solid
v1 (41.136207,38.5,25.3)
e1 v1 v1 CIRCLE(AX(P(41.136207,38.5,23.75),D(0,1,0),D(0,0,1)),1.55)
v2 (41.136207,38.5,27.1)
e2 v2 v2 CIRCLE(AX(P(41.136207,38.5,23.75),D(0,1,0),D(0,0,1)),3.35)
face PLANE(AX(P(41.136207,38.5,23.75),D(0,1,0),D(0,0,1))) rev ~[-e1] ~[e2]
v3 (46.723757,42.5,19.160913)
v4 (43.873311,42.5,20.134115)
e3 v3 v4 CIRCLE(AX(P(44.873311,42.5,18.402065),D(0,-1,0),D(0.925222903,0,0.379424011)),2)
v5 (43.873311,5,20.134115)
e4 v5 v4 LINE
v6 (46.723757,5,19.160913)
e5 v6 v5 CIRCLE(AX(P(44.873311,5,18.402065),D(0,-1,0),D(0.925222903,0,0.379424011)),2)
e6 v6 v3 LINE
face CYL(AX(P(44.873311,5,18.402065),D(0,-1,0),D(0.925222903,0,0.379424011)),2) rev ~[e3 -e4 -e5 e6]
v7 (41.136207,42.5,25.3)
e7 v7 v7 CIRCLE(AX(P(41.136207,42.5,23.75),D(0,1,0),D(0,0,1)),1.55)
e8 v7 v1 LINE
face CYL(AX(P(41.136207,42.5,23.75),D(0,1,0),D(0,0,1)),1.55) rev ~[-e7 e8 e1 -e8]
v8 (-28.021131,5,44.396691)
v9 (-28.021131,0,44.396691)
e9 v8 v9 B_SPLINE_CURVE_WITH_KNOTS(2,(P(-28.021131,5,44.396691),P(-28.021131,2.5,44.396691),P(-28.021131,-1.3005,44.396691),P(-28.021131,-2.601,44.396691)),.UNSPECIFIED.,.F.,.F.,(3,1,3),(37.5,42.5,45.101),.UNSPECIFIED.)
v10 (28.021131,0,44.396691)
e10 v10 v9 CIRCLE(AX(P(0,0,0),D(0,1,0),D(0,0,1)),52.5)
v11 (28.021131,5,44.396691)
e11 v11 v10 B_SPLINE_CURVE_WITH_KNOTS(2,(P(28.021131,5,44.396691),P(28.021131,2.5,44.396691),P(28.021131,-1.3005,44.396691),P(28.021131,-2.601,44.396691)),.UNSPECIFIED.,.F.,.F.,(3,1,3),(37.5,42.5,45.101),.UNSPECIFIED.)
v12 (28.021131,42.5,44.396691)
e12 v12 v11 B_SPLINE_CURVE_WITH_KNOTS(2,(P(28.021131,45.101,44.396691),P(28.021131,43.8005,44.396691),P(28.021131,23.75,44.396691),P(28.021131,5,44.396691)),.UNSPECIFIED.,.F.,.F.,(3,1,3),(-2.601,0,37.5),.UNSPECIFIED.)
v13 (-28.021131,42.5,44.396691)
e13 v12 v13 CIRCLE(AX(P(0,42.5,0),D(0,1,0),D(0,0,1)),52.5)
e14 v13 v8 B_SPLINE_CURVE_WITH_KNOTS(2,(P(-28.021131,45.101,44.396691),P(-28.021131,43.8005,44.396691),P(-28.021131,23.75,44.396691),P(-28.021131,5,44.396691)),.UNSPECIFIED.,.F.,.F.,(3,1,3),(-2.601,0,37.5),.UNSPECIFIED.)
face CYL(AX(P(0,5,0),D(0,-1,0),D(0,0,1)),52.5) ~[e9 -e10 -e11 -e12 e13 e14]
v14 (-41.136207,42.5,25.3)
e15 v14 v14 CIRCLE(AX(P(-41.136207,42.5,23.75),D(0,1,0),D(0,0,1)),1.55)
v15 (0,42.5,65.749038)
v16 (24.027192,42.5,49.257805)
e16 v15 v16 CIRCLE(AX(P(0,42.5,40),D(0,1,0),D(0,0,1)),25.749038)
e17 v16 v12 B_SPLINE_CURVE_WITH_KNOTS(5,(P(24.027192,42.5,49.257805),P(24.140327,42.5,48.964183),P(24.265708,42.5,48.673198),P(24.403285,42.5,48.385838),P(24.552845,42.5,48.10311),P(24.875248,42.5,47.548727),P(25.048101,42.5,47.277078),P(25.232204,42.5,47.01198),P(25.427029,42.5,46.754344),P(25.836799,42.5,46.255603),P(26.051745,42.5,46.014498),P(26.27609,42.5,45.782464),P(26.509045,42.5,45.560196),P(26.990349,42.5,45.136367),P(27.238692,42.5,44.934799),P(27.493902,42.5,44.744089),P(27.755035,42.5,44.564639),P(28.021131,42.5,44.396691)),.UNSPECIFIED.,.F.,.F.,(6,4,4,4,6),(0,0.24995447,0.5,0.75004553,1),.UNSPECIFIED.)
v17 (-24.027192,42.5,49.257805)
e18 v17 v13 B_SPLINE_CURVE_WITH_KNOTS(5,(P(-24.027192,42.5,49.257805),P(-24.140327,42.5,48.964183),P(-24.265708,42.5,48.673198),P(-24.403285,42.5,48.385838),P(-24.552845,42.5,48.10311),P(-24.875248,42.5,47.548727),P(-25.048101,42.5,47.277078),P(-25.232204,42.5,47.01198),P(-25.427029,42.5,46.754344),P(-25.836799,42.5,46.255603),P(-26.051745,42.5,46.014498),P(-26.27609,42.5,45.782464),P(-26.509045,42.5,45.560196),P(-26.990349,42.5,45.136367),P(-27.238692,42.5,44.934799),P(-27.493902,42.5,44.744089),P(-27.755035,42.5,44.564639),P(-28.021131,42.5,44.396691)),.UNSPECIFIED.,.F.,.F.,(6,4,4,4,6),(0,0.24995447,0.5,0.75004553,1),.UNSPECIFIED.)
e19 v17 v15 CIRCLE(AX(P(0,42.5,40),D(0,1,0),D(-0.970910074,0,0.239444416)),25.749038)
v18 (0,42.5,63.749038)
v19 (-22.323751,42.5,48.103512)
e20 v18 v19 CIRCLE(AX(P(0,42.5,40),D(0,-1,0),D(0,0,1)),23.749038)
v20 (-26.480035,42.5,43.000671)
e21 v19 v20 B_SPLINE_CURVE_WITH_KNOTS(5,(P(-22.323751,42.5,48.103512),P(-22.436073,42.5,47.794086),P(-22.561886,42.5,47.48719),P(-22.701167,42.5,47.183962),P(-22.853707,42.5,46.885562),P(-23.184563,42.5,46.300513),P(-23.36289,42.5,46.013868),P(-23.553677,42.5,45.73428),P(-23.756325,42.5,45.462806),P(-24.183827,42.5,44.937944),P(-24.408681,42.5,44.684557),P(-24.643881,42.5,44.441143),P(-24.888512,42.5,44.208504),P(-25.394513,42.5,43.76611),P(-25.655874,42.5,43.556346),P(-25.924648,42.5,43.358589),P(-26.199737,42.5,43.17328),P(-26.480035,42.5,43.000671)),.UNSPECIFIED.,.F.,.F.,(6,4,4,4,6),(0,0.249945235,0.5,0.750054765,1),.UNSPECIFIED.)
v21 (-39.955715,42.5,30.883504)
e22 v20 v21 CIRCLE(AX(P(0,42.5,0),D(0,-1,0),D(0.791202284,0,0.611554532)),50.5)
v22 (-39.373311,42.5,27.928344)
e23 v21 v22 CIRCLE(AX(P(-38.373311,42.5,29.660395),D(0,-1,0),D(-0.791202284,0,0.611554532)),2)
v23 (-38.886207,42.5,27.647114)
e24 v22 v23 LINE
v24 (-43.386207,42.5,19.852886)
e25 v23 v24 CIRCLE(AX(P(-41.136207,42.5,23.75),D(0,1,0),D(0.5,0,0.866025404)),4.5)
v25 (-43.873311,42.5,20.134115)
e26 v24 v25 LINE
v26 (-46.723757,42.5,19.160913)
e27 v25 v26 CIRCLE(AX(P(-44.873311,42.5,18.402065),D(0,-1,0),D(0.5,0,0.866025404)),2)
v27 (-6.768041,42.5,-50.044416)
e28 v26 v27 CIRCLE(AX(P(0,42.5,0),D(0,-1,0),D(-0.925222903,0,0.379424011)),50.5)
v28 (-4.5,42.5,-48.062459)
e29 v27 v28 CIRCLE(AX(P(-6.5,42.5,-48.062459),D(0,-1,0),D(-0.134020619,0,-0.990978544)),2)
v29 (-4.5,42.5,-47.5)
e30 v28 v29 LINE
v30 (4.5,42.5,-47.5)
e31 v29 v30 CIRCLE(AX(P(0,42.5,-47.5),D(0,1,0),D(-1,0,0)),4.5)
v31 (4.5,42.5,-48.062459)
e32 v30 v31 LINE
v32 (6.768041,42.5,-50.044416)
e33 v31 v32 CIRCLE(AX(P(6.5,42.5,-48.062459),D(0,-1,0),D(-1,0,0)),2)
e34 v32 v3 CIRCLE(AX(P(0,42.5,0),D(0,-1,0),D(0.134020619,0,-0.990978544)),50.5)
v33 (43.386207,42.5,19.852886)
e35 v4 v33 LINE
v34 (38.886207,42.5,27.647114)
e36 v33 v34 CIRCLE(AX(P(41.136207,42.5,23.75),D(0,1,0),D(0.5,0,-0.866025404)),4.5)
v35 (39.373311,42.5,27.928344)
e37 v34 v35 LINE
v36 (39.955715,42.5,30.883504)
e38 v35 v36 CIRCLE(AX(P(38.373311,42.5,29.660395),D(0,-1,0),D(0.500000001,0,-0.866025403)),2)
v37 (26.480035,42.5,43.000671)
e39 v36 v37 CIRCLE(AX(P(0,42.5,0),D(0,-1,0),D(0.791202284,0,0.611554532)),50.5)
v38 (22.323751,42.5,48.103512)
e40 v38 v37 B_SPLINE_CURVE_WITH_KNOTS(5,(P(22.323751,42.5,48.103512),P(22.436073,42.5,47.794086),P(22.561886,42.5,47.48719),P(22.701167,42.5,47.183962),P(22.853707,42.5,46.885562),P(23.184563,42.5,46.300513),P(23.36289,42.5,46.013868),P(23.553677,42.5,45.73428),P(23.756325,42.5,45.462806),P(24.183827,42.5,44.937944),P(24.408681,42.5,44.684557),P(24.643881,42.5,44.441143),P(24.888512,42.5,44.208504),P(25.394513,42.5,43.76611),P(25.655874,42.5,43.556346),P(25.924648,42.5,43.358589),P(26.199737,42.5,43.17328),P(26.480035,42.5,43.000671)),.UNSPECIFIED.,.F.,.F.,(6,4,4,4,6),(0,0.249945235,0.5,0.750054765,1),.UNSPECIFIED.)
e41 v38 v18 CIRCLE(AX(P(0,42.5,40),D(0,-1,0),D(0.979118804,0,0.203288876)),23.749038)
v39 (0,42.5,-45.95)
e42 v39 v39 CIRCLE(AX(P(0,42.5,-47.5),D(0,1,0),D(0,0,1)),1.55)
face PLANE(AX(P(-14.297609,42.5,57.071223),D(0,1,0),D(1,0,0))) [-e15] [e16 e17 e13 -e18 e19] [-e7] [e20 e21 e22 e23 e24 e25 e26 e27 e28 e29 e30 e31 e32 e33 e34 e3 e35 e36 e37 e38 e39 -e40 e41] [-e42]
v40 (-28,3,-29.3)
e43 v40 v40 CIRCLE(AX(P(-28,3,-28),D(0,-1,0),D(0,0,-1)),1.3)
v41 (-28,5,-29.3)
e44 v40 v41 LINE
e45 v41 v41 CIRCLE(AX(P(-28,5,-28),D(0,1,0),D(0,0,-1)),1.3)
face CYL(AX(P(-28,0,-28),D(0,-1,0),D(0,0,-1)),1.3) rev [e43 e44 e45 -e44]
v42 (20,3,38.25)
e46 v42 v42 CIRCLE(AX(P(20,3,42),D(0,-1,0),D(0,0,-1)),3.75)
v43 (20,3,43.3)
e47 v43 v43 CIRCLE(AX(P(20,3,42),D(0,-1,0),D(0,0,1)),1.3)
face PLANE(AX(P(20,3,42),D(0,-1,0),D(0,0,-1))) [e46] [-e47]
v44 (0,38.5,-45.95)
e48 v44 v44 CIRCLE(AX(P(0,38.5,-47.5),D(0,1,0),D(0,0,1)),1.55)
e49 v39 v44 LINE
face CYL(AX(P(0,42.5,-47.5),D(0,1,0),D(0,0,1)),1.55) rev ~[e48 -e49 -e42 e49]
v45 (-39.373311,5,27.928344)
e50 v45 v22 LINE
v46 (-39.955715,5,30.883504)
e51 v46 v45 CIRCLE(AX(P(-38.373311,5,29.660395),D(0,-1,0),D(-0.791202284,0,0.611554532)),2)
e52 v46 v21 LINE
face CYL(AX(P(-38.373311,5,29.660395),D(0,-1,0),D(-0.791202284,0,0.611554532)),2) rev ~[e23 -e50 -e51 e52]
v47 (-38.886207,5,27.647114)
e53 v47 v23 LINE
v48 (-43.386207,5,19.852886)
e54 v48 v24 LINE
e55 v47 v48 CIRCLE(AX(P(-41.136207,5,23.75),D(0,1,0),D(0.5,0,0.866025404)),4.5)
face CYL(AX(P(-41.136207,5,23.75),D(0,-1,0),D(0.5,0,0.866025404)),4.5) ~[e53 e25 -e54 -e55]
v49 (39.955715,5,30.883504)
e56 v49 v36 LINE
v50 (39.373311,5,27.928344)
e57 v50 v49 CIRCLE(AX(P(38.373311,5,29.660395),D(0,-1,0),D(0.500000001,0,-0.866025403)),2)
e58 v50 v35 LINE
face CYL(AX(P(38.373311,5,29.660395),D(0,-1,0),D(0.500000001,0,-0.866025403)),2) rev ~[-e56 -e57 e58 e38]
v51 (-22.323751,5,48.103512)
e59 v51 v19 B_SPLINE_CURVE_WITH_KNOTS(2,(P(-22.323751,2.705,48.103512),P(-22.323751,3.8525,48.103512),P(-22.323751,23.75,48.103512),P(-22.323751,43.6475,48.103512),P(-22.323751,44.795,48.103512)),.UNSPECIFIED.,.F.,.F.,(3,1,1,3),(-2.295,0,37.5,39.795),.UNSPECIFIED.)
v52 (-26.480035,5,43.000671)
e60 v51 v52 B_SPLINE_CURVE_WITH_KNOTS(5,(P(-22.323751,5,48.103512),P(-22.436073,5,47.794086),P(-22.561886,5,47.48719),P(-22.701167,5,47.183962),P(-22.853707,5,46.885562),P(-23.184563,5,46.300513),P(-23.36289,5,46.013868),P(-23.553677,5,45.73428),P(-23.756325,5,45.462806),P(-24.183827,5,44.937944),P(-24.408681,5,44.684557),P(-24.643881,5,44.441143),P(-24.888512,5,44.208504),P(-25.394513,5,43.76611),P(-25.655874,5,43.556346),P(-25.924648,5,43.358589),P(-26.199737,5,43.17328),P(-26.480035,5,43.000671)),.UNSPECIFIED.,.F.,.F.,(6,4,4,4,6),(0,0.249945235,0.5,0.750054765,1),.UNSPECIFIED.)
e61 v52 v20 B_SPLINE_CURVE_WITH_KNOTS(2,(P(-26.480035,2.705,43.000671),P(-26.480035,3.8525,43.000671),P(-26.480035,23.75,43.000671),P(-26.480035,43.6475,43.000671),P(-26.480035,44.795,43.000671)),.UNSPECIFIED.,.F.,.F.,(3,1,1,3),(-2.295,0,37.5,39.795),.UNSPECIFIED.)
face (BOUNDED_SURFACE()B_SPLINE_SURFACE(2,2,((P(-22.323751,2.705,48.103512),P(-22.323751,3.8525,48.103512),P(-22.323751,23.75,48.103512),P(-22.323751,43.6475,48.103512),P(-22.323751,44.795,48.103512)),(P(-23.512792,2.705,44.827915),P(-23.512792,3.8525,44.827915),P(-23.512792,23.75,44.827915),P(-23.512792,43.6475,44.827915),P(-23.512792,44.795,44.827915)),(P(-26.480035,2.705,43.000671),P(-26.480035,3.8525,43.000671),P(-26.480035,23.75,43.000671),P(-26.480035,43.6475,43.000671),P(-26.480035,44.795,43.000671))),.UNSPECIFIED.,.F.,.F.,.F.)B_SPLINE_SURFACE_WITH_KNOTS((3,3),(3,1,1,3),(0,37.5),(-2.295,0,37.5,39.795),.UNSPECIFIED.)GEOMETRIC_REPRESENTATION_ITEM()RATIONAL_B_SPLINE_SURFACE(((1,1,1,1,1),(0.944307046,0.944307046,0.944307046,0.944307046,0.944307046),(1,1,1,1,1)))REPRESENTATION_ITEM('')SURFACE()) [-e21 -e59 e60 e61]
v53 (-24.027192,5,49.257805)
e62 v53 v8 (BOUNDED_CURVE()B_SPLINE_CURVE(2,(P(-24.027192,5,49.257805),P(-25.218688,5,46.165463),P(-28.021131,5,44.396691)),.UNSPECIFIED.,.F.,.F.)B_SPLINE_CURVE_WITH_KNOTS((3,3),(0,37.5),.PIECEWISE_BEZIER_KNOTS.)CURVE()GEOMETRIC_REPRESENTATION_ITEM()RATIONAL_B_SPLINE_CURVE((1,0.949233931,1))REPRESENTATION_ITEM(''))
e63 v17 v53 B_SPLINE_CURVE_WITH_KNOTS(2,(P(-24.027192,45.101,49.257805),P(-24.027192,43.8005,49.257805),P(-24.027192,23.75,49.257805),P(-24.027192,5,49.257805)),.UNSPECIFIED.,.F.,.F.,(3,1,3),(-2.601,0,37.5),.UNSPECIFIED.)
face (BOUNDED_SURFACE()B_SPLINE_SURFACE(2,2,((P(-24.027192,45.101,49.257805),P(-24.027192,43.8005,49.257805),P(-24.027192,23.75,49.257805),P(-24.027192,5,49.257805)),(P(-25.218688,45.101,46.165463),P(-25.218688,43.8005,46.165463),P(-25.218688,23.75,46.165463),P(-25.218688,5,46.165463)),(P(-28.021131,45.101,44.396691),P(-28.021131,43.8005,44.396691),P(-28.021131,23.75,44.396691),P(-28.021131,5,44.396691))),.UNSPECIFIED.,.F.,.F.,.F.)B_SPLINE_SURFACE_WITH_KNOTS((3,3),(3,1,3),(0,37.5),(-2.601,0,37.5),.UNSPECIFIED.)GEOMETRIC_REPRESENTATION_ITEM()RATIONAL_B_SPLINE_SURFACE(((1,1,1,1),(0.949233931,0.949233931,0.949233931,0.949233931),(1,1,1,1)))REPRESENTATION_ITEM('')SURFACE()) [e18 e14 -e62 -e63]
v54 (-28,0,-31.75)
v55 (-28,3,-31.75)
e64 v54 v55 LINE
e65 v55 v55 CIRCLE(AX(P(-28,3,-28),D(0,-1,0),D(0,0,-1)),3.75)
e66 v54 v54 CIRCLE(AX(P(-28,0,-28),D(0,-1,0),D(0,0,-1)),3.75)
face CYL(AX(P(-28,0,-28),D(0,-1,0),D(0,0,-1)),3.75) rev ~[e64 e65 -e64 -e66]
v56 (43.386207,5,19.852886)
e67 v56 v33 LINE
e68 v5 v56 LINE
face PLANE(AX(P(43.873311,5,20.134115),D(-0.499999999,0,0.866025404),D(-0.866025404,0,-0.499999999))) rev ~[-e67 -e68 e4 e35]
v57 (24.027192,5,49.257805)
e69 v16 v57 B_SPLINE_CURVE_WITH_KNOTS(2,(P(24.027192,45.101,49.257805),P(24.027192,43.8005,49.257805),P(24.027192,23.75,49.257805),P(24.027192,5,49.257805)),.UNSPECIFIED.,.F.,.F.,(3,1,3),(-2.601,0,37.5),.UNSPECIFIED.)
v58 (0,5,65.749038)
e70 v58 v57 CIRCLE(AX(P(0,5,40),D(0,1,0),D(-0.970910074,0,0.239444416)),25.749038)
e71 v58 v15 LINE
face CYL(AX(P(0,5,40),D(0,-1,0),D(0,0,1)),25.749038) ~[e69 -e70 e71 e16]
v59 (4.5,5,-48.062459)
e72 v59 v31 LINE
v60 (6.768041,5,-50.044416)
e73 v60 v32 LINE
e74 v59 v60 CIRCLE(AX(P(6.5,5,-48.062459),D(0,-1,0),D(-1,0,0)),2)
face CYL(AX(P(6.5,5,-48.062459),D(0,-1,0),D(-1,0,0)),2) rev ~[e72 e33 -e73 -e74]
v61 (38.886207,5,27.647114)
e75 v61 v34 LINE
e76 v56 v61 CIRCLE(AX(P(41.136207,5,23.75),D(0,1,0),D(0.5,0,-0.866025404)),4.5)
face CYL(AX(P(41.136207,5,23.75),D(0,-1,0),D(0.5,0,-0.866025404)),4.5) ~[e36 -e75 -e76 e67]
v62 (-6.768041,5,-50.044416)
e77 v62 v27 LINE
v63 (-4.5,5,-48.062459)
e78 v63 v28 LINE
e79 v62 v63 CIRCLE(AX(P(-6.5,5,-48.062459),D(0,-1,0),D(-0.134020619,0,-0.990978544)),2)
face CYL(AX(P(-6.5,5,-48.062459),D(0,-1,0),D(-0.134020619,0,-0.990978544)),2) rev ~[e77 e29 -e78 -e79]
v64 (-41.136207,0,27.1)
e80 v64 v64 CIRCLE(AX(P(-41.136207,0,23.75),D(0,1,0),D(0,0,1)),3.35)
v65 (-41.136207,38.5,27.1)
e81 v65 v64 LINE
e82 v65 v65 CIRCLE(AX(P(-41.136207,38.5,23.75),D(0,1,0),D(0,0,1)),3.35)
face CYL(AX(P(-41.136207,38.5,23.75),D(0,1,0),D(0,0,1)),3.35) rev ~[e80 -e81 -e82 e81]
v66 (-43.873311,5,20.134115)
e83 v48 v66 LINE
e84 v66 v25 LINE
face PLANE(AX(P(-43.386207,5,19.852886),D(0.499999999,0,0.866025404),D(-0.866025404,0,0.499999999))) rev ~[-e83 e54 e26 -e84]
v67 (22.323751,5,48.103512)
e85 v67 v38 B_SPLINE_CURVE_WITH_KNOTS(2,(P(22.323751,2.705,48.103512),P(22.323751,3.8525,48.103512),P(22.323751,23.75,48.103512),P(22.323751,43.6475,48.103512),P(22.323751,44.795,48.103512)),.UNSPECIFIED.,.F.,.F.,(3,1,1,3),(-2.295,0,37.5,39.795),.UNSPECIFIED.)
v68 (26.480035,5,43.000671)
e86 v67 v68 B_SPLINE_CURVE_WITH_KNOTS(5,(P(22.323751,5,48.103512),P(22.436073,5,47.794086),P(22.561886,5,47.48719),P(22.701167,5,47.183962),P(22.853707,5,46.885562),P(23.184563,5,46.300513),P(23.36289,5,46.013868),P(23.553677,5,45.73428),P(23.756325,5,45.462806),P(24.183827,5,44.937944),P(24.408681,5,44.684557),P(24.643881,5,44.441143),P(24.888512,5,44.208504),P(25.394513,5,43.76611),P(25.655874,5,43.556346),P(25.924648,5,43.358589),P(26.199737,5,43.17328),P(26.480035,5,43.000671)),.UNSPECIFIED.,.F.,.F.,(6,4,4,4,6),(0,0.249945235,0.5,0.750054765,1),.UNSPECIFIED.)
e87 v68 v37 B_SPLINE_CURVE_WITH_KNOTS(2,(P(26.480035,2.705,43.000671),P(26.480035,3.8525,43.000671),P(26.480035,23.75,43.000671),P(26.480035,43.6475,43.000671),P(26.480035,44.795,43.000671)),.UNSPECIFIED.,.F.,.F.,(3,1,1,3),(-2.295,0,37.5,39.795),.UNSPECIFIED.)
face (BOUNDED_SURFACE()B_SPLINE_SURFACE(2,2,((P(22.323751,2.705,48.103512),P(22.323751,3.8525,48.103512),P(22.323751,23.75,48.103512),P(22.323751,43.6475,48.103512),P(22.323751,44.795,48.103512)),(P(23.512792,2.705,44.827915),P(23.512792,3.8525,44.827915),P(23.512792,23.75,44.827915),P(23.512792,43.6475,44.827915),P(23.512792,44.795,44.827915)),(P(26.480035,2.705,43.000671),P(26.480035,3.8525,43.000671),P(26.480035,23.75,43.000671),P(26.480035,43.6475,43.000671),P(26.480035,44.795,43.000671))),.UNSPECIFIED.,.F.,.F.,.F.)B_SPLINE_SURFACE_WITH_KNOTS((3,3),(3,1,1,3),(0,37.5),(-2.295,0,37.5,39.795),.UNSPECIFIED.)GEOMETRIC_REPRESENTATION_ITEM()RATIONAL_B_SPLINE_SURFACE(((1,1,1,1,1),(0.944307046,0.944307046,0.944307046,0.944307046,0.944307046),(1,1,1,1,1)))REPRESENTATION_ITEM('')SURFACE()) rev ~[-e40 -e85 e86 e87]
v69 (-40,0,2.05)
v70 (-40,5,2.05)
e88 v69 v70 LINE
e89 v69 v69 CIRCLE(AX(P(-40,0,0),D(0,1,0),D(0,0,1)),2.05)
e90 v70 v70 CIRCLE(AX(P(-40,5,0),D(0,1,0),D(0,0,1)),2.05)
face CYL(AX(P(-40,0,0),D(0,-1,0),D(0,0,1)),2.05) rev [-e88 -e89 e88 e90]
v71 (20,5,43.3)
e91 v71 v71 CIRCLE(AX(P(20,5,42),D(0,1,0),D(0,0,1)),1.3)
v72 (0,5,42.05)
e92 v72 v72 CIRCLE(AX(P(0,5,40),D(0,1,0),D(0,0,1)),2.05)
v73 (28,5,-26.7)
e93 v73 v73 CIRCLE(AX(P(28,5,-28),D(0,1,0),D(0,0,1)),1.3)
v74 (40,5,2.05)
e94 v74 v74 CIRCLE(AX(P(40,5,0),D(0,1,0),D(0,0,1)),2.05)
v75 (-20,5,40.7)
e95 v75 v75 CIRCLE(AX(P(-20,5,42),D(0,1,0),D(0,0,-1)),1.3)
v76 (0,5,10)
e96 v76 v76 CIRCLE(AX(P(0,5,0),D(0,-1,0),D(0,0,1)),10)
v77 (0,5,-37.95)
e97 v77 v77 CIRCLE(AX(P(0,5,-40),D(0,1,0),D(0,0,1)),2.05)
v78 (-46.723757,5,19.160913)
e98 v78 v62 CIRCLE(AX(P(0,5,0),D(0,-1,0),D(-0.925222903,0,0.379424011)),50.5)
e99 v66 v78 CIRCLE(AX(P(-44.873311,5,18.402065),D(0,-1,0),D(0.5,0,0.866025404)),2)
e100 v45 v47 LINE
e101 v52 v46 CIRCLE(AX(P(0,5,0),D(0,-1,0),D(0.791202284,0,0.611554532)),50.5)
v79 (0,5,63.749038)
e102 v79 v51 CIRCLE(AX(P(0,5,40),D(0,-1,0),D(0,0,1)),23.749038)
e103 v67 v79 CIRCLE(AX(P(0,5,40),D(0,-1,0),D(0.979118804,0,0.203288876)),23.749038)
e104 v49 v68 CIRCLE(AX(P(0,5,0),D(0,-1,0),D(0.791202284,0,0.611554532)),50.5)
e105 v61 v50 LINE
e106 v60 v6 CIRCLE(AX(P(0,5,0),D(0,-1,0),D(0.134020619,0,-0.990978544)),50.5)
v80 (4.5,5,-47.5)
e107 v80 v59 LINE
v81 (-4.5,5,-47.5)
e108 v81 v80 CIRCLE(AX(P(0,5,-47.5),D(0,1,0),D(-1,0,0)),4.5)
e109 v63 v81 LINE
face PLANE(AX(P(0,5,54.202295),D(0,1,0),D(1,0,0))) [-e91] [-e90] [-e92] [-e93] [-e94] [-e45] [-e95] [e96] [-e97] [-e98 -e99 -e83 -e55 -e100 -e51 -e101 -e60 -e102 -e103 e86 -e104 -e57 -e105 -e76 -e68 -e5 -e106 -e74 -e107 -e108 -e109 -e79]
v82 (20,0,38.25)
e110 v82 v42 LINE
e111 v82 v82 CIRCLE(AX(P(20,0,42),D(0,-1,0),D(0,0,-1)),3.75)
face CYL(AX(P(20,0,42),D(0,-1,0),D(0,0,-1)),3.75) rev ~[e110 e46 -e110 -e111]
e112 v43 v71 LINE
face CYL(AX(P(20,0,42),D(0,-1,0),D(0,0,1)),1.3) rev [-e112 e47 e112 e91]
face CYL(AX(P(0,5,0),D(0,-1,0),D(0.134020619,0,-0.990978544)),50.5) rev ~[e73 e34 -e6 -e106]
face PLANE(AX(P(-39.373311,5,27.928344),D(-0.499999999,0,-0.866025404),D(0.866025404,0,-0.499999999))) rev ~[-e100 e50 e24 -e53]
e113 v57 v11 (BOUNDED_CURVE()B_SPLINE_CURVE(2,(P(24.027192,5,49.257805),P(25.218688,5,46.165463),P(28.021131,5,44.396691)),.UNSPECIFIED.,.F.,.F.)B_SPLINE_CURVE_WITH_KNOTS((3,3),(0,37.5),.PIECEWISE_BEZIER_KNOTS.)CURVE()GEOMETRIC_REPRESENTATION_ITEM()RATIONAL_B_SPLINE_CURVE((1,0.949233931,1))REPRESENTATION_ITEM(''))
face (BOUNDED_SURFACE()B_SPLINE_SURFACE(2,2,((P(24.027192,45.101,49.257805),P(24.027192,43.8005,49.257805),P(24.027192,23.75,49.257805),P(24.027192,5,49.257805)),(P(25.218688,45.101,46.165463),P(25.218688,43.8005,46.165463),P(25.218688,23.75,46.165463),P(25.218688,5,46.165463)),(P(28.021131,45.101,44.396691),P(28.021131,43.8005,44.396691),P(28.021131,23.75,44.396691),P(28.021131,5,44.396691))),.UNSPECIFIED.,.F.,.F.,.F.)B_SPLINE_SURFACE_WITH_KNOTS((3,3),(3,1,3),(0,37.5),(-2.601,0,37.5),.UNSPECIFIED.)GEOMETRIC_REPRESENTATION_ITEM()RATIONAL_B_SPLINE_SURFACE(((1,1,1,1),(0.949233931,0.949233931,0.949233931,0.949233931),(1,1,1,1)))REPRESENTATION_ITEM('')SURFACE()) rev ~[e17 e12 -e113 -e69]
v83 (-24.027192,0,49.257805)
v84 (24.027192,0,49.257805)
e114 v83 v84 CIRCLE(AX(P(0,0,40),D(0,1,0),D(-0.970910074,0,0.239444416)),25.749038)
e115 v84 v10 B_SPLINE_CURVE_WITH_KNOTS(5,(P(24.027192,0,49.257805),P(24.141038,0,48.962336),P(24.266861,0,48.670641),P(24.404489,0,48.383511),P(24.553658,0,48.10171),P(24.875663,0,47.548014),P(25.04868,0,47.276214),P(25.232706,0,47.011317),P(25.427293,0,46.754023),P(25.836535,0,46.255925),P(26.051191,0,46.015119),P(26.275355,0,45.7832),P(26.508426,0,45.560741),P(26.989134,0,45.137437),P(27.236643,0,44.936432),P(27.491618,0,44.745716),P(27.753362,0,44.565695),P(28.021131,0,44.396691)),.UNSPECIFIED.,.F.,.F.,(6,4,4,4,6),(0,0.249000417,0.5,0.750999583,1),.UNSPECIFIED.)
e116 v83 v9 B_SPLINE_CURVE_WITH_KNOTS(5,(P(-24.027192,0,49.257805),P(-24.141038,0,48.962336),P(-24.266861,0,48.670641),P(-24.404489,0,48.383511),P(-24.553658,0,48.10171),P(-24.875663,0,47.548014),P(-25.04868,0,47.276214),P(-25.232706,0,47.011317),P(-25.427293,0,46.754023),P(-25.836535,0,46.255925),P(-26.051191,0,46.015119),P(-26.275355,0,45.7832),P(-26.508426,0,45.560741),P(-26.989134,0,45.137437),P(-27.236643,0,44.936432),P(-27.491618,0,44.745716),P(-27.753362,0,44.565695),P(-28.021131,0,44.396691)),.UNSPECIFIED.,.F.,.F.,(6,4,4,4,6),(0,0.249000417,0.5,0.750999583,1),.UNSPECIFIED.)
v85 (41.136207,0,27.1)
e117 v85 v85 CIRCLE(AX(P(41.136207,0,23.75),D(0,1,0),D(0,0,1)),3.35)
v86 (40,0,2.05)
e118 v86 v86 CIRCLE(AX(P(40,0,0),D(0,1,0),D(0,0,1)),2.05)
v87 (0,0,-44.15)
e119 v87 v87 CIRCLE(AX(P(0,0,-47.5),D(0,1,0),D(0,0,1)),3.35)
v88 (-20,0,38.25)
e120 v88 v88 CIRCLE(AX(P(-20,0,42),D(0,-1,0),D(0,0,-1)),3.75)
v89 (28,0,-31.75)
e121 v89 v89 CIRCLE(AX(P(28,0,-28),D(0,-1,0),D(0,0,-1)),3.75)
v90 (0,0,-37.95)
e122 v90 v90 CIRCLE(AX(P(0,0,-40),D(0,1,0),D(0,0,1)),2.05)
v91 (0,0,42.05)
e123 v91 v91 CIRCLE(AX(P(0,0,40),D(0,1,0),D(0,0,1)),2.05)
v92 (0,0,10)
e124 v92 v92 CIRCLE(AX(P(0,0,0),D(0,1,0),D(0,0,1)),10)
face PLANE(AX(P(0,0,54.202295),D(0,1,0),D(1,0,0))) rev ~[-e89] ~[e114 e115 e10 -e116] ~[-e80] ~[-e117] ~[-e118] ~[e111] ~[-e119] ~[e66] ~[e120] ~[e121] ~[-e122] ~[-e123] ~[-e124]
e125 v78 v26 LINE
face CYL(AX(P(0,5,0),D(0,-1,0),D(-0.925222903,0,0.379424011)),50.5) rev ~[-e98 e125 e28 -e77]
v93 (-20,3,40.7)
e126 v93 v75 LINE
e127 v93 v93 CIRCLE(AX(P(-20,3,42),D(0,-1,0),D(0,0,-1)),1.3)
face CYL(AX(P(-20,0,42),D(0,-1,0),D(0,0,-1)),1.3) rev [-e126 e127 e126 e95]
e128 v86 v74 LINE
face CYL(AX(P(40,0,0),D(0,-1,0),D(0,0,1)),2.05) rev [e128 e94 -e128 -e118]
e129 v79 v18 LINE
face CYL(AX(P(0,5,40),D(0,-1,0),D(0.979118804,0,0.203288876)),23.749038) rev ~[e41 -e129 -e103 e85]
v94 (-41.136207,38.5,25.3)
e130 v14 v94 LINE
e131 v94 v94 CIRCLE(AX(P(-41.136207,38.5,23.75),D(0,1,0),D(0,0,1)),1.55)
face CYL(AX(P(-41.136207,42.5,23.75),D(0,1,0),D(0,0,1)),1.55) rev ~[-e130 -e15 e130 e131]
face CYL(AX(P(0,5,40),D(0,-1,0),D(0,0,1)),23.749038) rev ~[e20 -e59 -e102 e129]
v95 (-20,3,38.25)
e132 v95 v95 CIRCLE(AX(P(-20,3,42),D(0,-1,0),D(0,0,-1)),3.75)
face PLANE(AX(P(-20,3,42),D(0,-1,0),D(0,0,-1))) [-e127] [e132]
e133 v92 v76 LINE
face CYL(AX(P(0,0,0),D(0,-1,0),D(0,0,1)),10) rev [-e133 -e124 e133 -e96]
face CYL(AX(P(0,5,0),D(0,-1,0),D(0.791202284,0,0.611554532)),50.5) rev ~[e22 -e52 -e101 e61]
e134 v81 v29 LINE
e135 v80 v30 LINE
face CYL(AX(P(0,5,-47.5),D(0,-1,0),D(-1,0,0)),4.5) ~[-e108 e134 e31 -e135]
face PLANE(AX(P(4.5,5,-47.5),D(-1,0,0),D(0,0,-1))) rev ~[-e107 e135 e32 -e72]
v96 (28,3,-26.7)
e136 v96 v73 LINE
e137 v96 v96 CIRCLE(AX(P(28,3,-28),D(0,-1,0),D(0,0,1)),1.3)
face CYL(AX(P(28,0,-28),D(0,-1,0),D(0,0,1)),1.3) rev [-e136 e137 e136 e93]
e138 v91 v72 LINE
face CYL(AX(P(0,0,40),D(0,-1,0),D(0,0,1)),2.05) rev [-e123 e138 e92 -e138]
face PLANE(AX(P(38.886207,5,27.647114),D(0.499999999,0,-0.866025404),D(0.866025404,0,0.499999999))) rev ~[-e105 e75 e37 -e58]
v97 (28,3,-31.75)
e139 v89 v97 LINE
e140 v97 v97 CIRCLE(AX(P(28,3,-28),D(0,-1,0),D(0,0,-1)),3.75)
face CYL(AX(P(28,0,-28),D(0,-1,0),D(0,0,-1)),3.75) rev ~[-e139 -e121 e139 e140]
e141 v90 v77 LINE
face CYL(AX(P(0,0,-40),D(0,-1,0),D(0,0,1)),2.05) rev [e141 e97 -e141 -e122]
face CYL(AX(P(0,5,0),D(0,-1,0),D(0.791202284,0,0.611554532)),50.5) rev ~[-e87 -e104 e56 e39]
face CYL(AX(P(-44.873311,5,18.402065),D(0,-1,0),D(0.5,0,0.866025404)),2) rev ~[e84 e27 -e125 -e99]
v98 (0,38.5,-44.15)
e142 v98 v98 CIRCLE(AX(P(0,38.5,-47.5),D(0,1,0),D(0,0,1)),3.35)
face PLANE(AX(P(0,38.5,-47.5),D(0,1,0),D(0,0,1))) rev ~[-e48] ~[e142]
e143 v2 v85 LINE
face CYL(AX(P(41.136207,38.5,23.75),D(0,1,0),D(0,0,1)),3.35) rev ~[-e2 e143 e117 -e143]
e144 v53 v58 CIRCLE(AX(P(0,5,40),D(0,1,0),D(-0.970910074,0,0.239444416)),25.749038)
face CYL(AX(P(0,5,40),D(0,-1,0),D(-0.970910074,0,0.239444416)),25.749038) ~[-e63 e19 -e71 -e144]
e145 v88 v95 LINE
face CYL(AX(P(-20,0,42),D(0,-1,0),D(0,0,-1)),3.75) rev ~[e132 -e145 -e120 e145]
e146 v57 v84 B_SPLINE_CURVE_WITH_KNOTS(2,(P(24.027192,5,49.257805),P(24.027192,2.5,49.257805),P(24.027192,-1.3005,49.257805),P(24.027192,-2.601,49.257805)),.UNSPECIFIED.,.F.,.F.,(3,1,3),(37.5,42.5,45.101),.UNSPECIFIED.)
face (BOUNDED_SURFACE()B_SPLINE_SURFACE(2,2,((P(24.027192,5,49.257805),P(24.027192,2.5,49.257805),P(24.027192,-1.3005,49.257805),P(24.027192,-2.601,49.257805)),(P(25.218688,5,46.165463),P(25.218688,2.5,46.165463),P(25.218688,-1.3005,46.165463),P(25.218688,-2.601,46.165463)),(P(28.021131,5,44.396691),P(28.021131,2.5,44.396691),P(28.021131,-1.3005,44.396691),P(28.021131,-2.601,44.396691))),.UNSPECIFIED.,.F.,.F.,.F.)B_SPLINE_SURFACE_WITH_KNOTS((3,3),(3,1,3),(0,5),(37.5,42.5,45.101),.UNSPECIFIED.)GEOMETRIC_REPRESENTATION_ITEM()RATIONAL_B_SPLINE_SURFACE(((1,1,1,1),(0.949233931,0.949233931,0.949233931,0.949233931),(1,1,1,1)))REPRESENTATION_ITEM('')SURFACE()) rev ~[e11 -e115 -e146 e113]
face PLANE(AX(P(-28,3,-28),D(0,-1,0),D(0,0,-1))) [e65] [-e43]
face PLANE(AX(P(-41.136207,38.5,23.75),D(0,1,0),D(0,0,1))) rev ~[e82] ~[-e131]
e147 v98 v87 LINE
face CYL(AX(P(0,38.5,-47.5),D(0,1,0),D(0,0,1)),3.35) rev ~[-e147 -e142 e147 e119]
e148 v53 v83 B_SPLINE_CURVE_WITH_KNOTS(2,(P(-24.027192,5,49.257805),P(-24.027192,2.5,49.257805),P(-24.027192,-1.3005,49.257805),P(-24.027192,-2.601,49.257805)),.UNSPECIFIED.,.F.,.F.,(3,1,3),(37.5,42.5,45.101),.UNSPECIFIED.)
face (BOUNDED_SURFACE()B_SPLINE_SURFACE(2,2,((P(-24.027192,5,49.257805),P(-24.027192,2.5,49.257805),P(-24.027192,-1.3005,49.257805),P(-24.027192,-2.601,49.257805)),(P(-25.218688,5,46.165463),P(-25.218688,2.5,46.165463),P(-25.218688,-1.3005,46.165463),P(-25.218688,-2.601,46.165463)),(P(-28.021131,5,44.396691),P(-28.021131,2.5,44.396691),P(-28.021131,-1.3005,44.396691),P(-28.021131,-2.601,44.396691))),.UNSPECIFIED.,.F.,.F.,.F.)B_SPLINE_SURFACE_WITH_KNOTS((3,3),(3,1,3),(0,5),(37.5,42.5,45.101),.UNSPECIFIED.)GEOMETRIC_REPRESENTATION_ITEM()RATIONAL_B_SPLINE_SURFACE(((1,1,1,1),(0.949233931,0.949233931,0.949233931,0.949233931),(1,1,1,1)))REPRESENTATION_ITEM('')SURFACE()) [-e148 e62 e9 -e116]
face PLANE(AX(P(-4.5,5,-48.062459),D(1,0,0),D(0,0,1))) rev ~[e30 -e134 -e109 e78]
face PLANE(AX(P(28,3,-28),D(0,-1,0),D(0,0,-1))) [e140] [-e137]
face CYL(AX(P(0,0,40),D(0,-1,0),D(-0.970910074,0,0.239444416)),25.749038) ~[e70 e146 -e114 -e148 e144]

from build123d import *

# Parameters (mm, degrees)
ESQUISSE1_R             = 52.5
ESQUISSE1_R_2           = 2.05
ESQUISSE1_R_3           = 1.3
ESQUISSE1_R_4           = 10
BOSS_EXTRU_2_DEPTH      = 5
ESQUISSE2_R             = 52.5
BOSS_EXTRU_3_DEPTH      = 37.5
ENL_V_START             = -4
ESQUISSE3_R             = 3.35
ENL_V_MAT_EXTRU_1_DEPTH = 82.549693161
ESQUISSE5_R             = 1.55
ENL_V_MAT_EXTRU_3_DEPTH = 86.549693161
ESQUISSE6_R             = 3.75
ENL_V_MAT_EXTRU_4_DEPTH = 3
ESQUISSE7_W             = 25
ESQUISSE7_H             = 37.5
ENL_V_MAT_EXTRU_5_DEPTH = 86.549693161
BOSS_EXTRU_5_DEPTH      = 5
BOSS_EXTRU_9_DEPTH      = 37.5
CONG_1_R                = 10


with BuildPart() as part:
    # Esquisse1 → Boss.-Extru.2 (new body)
    with BuildSketch(Plane(origin=(0, 0, 0), x_dir=(1, 0, 0), z_dir=(0, 1, 0))):
        with Locations(Location((0, 0, 0), (0, 0, 270))):
            Circle(ESQUISSE1_R)
        with Locations(Location((0, 40, 0), (0, 0, 270))):
            Circle(ESQUISSE1_R_2, mode=Mode.SUBTRACT)
        with Locations(Location((40, 0, 0), (0, 0, 270))):
            Circle(ESQUISSE1_R_2, mode=Mode.SUBTRACT)
        with Locations(Location((0, -40, 0), (0, 0, 270))):
            Circle(ESQUISSE1_R_2, mode=Mode.SUBTRACT)
        with Locations(Location((-40, 0, 0), (0, 0, 270))):
            Circle(ESQUISSE1_R_2, mode=Mode.SUBTRACT)
        with Locations(Location((28, 28, 0), (0, 0, 270))):
            Circle(ESQUISSE1_R_3, mode=Mode.SUBTRACT)
        with Locations(Location((20, -42, 0), (0, 0, 270))):
            Circle(ESQUISSE1_R_3, mode=Mode.SUBTRACT)
        with Locations(Location((-20, -42, 0), (0, 0, 90))):
            Circle(ESQUISSE1_R_3, mode=Mode.SUBTRACT)
        with Locations(Location((-28, 28, 0), (0, 0, 90))):
            Circle(ESQUISSE1_R_3, mode=Mode.SUBTRACT)
        with Locations(Location((0, 0, 0), (0, 0, 270))):
            Circle(ESQUISSE1_R_4, mode=Mode.SUBTRACT)
    extrude(amount=BOSS_EXTRU_2_DEPTH)

    # Esquisse2 → Boss.-Extru.3 (add)
    with BuildSketch(Plane(origin=(0, 5, 0), x_dir=(1, 0, 0), z_dir=(0, 1, 0))):
        with Locations(Location((0, 0, 0), (0, 0, 270))):
            Circle(ESQUISSE2_R)
        with BuildLine():
            ThreePointArc((-4.5, 47.5), (0, 43), (4.5, 47.5))
            Line((4.5, 47.5), (4.5, 48.062459363))
            ThreePointArc((4.5, 48.062459363), (5.183960957, 49.568461102), (6.768041237, 50.04441645))
            ThreePointArc((6.768041237, 50.04441645), (43.734282891, 25.25), (46.723756582, -19.16091258))
            ThreePointArc((46.723756582, -19.16091258), (45.519527019, -20.29478867), (43.873310777, -20.134115364))
            Line((43.873310777, -20.134115364), (43.38620668, -19.852885683))
            ThreePointArc((43.38620668, -19.852885683), (37.239092363, -21.5), (38.88620668, -27.647114317))
            Line((38.88620668, -27.647114317), (39.373310777, -27.928343998))
            ThreePointArc((39.373310777, -27.928343998), (40.335566062, -29.273672432), (39.955715345, -30.88350387))
            ThreePointArc((39.955715345, -30.88350387), (0, -50.5), (-39.955715345, -30.88350387))
            ThreePointArc((-39.955715345, -30.88350387), (-40.335566062, -29.273672432), (-39.373310777, -27.928343998))
            Line((-39.373310777, -27.928343998), (-38.88620668, -27.647114317))
            ThreePointArc((-38.88620668, -27.647114317), (-37.239092363, -21.5), (-43.38620668, -19.852885683))
            Line((-43.38620668, -19.852885683), (-43.873310777, -20.134115364))
            ThreePointArc((-43.873310777, -20.134115364), (-45.519527019, -20.29478867), (-46.723756582, -19.16091258))
            ThreePointArc((-46.723756582, -19.16091258), (-43.734282891, 25.25), (-6.768041237, 50.04441645))
            ThreePointArc((-6.768041237, 50.04441645), (-5.183960957, 49.568461102), (-4.5, 48.062459363))
            Line((-4.5, 48.062459363), (-4.5, 47.5))
        make_face(mode=Mode.SUBTRACT)
    extrude(amount=BOSS_EXTRU_3_DEPTH)

    # Esquisse3 → Enlèv. mat.-Extru.1 (cut, through all)
    with BuildSketch(Plane(origin=(0, 42.5, 0), x_dir=(1, 0, 0), z_dir=(0, 1, 0)).offset(ENL_V_START)):
        with Locations(Location((0, 47.5, 0), (0, 0, 270))):
            Circle(ESQUISSE3_R)
        with Locations(Location((41.13620668, -23.75, 0), (0, 0, 270))):
            Circle(ESQUISSE3_R)
        with Locations(Location((-41.13620668, -23.75, 0), (0, 0, 270))):
            Circle(ESQUISSE3_R)
    extrude(amount=-ENL_V_MAT_EXTRU_1_DEPTH, mode=Mode.SUBTRACT)

    # Esquisse5 → Enlèv. mat.-Extru.3 (cut, through all)
    with BuildSketch(Plane(origin=(0, 42.5, 0), x_dir=(1, 0, 0), z_dir=(0, 1, 0))):
        with Locations(Location((-41.13620668, -23.75, 0), (0, 0, 270))):
            Circle(ESQUISSE5_R)
        with Locations(Location((41.13620668, -23.75, 0), (0, 0, 270))):
            Circle(ESQUISSE5_R)
        with Locations(Location((0, 47.5, 0), (0, 0, 270))):
            Circle(ESQUISSE5_R)
    extrude(amount=-ENL_V_MAT_EXTRU_3_DEPTH, mode=Mode.SUBTRACT)

    # Esquisse6 → Enlèv. mat.-Extru.4 (cut)
    with BuildSketch(Plane.XZ):
        with Locations(Location((-20, 42, 0), (0, 0, 270))):
            Circle(ESQUISSE6_R)
        with Locations(Location((20, 42, 0), (0, 0, 270))):
            Circle(ESQUISSE6_R)
        with Locations(Location((-28, -28, 0), (0, 0, 270))):
            Circle(ESQUISSE6_R)
        with Locations(Location((28, -28, 0), (0, 0, 270))):
            Circle(ESQUISSE6_R)
    extrude(amount=-ENL_V_MAT_EXTRU_4_DEPTH, mode=Mode.SUBTRACT)

    # Esquisse7 → Enlèv. mat.-Extru.5 (cut, through all)
    with BuildSketch(Plane.XY):
        with Locations((-12.5, 23.75)):
            Rectangle(ESQUISSE7_W, ESQUISSE7_H)
        with Locations((12.5, 23.75)):
            Rectangle(ESQUISSE7_W, ESQUISSE7_H)
    extrude(amount=ENL_V_MAT_EXTRU_5_DEPTH, mode=Mode.SUBTRACT)

    # Esquisse8 → Boss.-Extru.5 (add)
    with BuildSketch(Plane(origin=(0, 0, 0), x_dir=(1, 0, 0), z_dir=(0, 1, 0))):
        with BuildLine():
            ThreePointArc((-25, -46.165463282), (0, -65.749037603), (25, -46.165463282))
            ThreePointArc((25, -46.165463282), (0, -52.5), (-25, -46.165463282))
        make_face()
    extrude(amount=BOSS_EXTRU_5_DEPTH)

    # Esquisse11 → Boss.-Extru.9 (add)
    with BuildSketch(Plane(origin=(0, 5, 0), x_dir=(1, 0, 0), z_dir=(0, 1, 0))):
        with BuildLine():
            Line((0, -65.749037603), (0, -63.749037603))
            ThreePointArc((0, -63.749037603), (-14.989303659, -58.421117308), (-23.2531293, -44.827915162))
            ThreePointArc((-23.2531293, -44.827915162), (-24.131242464, -44.361392416), (-25, -43.877670859))
            Line((-25, -43.877670859), (-25, -46.165463282))
            ThreePointArc((-25, -46.165463282), (-15.878573481, -60.270269896), (0, -65.749037603))
        make_face()
        with BuildLine():
            ThreePointArc((23.2531293, -44.827915162), (14.989303659, -58.421117308), (0, -63.749037603))
            Line((0, -63.749037603), (0, -65.749037603))
            ThreePointArc((0, -65.749037603), (15.878573481, -60.270269896), (25, -46.165463282))
            Line((25, -46.165463282), (25, -43.877670859))
            ThreePointArc((25, -43.877670859), (24.131242464, -44.361392416), (23.2531293, -44.827915162))
        make_face()
    extrude(amount=BOSS_EXTRU_9_DEPTH)

    # Congé1
    cong_1_edges = [part.edges().sort_by_distance(p)[0] for p in [
        (25, 21.25, 46.165463282),
        (-25, 21.25, 46.165463282),
        (23.2531293, 23.75, 44.827915162),
        (-23.2531293, 23.75, 44.827915162),
    ]]
    fillet(cong_1_edges, radius=CONG_1_R)


solid = part.part
